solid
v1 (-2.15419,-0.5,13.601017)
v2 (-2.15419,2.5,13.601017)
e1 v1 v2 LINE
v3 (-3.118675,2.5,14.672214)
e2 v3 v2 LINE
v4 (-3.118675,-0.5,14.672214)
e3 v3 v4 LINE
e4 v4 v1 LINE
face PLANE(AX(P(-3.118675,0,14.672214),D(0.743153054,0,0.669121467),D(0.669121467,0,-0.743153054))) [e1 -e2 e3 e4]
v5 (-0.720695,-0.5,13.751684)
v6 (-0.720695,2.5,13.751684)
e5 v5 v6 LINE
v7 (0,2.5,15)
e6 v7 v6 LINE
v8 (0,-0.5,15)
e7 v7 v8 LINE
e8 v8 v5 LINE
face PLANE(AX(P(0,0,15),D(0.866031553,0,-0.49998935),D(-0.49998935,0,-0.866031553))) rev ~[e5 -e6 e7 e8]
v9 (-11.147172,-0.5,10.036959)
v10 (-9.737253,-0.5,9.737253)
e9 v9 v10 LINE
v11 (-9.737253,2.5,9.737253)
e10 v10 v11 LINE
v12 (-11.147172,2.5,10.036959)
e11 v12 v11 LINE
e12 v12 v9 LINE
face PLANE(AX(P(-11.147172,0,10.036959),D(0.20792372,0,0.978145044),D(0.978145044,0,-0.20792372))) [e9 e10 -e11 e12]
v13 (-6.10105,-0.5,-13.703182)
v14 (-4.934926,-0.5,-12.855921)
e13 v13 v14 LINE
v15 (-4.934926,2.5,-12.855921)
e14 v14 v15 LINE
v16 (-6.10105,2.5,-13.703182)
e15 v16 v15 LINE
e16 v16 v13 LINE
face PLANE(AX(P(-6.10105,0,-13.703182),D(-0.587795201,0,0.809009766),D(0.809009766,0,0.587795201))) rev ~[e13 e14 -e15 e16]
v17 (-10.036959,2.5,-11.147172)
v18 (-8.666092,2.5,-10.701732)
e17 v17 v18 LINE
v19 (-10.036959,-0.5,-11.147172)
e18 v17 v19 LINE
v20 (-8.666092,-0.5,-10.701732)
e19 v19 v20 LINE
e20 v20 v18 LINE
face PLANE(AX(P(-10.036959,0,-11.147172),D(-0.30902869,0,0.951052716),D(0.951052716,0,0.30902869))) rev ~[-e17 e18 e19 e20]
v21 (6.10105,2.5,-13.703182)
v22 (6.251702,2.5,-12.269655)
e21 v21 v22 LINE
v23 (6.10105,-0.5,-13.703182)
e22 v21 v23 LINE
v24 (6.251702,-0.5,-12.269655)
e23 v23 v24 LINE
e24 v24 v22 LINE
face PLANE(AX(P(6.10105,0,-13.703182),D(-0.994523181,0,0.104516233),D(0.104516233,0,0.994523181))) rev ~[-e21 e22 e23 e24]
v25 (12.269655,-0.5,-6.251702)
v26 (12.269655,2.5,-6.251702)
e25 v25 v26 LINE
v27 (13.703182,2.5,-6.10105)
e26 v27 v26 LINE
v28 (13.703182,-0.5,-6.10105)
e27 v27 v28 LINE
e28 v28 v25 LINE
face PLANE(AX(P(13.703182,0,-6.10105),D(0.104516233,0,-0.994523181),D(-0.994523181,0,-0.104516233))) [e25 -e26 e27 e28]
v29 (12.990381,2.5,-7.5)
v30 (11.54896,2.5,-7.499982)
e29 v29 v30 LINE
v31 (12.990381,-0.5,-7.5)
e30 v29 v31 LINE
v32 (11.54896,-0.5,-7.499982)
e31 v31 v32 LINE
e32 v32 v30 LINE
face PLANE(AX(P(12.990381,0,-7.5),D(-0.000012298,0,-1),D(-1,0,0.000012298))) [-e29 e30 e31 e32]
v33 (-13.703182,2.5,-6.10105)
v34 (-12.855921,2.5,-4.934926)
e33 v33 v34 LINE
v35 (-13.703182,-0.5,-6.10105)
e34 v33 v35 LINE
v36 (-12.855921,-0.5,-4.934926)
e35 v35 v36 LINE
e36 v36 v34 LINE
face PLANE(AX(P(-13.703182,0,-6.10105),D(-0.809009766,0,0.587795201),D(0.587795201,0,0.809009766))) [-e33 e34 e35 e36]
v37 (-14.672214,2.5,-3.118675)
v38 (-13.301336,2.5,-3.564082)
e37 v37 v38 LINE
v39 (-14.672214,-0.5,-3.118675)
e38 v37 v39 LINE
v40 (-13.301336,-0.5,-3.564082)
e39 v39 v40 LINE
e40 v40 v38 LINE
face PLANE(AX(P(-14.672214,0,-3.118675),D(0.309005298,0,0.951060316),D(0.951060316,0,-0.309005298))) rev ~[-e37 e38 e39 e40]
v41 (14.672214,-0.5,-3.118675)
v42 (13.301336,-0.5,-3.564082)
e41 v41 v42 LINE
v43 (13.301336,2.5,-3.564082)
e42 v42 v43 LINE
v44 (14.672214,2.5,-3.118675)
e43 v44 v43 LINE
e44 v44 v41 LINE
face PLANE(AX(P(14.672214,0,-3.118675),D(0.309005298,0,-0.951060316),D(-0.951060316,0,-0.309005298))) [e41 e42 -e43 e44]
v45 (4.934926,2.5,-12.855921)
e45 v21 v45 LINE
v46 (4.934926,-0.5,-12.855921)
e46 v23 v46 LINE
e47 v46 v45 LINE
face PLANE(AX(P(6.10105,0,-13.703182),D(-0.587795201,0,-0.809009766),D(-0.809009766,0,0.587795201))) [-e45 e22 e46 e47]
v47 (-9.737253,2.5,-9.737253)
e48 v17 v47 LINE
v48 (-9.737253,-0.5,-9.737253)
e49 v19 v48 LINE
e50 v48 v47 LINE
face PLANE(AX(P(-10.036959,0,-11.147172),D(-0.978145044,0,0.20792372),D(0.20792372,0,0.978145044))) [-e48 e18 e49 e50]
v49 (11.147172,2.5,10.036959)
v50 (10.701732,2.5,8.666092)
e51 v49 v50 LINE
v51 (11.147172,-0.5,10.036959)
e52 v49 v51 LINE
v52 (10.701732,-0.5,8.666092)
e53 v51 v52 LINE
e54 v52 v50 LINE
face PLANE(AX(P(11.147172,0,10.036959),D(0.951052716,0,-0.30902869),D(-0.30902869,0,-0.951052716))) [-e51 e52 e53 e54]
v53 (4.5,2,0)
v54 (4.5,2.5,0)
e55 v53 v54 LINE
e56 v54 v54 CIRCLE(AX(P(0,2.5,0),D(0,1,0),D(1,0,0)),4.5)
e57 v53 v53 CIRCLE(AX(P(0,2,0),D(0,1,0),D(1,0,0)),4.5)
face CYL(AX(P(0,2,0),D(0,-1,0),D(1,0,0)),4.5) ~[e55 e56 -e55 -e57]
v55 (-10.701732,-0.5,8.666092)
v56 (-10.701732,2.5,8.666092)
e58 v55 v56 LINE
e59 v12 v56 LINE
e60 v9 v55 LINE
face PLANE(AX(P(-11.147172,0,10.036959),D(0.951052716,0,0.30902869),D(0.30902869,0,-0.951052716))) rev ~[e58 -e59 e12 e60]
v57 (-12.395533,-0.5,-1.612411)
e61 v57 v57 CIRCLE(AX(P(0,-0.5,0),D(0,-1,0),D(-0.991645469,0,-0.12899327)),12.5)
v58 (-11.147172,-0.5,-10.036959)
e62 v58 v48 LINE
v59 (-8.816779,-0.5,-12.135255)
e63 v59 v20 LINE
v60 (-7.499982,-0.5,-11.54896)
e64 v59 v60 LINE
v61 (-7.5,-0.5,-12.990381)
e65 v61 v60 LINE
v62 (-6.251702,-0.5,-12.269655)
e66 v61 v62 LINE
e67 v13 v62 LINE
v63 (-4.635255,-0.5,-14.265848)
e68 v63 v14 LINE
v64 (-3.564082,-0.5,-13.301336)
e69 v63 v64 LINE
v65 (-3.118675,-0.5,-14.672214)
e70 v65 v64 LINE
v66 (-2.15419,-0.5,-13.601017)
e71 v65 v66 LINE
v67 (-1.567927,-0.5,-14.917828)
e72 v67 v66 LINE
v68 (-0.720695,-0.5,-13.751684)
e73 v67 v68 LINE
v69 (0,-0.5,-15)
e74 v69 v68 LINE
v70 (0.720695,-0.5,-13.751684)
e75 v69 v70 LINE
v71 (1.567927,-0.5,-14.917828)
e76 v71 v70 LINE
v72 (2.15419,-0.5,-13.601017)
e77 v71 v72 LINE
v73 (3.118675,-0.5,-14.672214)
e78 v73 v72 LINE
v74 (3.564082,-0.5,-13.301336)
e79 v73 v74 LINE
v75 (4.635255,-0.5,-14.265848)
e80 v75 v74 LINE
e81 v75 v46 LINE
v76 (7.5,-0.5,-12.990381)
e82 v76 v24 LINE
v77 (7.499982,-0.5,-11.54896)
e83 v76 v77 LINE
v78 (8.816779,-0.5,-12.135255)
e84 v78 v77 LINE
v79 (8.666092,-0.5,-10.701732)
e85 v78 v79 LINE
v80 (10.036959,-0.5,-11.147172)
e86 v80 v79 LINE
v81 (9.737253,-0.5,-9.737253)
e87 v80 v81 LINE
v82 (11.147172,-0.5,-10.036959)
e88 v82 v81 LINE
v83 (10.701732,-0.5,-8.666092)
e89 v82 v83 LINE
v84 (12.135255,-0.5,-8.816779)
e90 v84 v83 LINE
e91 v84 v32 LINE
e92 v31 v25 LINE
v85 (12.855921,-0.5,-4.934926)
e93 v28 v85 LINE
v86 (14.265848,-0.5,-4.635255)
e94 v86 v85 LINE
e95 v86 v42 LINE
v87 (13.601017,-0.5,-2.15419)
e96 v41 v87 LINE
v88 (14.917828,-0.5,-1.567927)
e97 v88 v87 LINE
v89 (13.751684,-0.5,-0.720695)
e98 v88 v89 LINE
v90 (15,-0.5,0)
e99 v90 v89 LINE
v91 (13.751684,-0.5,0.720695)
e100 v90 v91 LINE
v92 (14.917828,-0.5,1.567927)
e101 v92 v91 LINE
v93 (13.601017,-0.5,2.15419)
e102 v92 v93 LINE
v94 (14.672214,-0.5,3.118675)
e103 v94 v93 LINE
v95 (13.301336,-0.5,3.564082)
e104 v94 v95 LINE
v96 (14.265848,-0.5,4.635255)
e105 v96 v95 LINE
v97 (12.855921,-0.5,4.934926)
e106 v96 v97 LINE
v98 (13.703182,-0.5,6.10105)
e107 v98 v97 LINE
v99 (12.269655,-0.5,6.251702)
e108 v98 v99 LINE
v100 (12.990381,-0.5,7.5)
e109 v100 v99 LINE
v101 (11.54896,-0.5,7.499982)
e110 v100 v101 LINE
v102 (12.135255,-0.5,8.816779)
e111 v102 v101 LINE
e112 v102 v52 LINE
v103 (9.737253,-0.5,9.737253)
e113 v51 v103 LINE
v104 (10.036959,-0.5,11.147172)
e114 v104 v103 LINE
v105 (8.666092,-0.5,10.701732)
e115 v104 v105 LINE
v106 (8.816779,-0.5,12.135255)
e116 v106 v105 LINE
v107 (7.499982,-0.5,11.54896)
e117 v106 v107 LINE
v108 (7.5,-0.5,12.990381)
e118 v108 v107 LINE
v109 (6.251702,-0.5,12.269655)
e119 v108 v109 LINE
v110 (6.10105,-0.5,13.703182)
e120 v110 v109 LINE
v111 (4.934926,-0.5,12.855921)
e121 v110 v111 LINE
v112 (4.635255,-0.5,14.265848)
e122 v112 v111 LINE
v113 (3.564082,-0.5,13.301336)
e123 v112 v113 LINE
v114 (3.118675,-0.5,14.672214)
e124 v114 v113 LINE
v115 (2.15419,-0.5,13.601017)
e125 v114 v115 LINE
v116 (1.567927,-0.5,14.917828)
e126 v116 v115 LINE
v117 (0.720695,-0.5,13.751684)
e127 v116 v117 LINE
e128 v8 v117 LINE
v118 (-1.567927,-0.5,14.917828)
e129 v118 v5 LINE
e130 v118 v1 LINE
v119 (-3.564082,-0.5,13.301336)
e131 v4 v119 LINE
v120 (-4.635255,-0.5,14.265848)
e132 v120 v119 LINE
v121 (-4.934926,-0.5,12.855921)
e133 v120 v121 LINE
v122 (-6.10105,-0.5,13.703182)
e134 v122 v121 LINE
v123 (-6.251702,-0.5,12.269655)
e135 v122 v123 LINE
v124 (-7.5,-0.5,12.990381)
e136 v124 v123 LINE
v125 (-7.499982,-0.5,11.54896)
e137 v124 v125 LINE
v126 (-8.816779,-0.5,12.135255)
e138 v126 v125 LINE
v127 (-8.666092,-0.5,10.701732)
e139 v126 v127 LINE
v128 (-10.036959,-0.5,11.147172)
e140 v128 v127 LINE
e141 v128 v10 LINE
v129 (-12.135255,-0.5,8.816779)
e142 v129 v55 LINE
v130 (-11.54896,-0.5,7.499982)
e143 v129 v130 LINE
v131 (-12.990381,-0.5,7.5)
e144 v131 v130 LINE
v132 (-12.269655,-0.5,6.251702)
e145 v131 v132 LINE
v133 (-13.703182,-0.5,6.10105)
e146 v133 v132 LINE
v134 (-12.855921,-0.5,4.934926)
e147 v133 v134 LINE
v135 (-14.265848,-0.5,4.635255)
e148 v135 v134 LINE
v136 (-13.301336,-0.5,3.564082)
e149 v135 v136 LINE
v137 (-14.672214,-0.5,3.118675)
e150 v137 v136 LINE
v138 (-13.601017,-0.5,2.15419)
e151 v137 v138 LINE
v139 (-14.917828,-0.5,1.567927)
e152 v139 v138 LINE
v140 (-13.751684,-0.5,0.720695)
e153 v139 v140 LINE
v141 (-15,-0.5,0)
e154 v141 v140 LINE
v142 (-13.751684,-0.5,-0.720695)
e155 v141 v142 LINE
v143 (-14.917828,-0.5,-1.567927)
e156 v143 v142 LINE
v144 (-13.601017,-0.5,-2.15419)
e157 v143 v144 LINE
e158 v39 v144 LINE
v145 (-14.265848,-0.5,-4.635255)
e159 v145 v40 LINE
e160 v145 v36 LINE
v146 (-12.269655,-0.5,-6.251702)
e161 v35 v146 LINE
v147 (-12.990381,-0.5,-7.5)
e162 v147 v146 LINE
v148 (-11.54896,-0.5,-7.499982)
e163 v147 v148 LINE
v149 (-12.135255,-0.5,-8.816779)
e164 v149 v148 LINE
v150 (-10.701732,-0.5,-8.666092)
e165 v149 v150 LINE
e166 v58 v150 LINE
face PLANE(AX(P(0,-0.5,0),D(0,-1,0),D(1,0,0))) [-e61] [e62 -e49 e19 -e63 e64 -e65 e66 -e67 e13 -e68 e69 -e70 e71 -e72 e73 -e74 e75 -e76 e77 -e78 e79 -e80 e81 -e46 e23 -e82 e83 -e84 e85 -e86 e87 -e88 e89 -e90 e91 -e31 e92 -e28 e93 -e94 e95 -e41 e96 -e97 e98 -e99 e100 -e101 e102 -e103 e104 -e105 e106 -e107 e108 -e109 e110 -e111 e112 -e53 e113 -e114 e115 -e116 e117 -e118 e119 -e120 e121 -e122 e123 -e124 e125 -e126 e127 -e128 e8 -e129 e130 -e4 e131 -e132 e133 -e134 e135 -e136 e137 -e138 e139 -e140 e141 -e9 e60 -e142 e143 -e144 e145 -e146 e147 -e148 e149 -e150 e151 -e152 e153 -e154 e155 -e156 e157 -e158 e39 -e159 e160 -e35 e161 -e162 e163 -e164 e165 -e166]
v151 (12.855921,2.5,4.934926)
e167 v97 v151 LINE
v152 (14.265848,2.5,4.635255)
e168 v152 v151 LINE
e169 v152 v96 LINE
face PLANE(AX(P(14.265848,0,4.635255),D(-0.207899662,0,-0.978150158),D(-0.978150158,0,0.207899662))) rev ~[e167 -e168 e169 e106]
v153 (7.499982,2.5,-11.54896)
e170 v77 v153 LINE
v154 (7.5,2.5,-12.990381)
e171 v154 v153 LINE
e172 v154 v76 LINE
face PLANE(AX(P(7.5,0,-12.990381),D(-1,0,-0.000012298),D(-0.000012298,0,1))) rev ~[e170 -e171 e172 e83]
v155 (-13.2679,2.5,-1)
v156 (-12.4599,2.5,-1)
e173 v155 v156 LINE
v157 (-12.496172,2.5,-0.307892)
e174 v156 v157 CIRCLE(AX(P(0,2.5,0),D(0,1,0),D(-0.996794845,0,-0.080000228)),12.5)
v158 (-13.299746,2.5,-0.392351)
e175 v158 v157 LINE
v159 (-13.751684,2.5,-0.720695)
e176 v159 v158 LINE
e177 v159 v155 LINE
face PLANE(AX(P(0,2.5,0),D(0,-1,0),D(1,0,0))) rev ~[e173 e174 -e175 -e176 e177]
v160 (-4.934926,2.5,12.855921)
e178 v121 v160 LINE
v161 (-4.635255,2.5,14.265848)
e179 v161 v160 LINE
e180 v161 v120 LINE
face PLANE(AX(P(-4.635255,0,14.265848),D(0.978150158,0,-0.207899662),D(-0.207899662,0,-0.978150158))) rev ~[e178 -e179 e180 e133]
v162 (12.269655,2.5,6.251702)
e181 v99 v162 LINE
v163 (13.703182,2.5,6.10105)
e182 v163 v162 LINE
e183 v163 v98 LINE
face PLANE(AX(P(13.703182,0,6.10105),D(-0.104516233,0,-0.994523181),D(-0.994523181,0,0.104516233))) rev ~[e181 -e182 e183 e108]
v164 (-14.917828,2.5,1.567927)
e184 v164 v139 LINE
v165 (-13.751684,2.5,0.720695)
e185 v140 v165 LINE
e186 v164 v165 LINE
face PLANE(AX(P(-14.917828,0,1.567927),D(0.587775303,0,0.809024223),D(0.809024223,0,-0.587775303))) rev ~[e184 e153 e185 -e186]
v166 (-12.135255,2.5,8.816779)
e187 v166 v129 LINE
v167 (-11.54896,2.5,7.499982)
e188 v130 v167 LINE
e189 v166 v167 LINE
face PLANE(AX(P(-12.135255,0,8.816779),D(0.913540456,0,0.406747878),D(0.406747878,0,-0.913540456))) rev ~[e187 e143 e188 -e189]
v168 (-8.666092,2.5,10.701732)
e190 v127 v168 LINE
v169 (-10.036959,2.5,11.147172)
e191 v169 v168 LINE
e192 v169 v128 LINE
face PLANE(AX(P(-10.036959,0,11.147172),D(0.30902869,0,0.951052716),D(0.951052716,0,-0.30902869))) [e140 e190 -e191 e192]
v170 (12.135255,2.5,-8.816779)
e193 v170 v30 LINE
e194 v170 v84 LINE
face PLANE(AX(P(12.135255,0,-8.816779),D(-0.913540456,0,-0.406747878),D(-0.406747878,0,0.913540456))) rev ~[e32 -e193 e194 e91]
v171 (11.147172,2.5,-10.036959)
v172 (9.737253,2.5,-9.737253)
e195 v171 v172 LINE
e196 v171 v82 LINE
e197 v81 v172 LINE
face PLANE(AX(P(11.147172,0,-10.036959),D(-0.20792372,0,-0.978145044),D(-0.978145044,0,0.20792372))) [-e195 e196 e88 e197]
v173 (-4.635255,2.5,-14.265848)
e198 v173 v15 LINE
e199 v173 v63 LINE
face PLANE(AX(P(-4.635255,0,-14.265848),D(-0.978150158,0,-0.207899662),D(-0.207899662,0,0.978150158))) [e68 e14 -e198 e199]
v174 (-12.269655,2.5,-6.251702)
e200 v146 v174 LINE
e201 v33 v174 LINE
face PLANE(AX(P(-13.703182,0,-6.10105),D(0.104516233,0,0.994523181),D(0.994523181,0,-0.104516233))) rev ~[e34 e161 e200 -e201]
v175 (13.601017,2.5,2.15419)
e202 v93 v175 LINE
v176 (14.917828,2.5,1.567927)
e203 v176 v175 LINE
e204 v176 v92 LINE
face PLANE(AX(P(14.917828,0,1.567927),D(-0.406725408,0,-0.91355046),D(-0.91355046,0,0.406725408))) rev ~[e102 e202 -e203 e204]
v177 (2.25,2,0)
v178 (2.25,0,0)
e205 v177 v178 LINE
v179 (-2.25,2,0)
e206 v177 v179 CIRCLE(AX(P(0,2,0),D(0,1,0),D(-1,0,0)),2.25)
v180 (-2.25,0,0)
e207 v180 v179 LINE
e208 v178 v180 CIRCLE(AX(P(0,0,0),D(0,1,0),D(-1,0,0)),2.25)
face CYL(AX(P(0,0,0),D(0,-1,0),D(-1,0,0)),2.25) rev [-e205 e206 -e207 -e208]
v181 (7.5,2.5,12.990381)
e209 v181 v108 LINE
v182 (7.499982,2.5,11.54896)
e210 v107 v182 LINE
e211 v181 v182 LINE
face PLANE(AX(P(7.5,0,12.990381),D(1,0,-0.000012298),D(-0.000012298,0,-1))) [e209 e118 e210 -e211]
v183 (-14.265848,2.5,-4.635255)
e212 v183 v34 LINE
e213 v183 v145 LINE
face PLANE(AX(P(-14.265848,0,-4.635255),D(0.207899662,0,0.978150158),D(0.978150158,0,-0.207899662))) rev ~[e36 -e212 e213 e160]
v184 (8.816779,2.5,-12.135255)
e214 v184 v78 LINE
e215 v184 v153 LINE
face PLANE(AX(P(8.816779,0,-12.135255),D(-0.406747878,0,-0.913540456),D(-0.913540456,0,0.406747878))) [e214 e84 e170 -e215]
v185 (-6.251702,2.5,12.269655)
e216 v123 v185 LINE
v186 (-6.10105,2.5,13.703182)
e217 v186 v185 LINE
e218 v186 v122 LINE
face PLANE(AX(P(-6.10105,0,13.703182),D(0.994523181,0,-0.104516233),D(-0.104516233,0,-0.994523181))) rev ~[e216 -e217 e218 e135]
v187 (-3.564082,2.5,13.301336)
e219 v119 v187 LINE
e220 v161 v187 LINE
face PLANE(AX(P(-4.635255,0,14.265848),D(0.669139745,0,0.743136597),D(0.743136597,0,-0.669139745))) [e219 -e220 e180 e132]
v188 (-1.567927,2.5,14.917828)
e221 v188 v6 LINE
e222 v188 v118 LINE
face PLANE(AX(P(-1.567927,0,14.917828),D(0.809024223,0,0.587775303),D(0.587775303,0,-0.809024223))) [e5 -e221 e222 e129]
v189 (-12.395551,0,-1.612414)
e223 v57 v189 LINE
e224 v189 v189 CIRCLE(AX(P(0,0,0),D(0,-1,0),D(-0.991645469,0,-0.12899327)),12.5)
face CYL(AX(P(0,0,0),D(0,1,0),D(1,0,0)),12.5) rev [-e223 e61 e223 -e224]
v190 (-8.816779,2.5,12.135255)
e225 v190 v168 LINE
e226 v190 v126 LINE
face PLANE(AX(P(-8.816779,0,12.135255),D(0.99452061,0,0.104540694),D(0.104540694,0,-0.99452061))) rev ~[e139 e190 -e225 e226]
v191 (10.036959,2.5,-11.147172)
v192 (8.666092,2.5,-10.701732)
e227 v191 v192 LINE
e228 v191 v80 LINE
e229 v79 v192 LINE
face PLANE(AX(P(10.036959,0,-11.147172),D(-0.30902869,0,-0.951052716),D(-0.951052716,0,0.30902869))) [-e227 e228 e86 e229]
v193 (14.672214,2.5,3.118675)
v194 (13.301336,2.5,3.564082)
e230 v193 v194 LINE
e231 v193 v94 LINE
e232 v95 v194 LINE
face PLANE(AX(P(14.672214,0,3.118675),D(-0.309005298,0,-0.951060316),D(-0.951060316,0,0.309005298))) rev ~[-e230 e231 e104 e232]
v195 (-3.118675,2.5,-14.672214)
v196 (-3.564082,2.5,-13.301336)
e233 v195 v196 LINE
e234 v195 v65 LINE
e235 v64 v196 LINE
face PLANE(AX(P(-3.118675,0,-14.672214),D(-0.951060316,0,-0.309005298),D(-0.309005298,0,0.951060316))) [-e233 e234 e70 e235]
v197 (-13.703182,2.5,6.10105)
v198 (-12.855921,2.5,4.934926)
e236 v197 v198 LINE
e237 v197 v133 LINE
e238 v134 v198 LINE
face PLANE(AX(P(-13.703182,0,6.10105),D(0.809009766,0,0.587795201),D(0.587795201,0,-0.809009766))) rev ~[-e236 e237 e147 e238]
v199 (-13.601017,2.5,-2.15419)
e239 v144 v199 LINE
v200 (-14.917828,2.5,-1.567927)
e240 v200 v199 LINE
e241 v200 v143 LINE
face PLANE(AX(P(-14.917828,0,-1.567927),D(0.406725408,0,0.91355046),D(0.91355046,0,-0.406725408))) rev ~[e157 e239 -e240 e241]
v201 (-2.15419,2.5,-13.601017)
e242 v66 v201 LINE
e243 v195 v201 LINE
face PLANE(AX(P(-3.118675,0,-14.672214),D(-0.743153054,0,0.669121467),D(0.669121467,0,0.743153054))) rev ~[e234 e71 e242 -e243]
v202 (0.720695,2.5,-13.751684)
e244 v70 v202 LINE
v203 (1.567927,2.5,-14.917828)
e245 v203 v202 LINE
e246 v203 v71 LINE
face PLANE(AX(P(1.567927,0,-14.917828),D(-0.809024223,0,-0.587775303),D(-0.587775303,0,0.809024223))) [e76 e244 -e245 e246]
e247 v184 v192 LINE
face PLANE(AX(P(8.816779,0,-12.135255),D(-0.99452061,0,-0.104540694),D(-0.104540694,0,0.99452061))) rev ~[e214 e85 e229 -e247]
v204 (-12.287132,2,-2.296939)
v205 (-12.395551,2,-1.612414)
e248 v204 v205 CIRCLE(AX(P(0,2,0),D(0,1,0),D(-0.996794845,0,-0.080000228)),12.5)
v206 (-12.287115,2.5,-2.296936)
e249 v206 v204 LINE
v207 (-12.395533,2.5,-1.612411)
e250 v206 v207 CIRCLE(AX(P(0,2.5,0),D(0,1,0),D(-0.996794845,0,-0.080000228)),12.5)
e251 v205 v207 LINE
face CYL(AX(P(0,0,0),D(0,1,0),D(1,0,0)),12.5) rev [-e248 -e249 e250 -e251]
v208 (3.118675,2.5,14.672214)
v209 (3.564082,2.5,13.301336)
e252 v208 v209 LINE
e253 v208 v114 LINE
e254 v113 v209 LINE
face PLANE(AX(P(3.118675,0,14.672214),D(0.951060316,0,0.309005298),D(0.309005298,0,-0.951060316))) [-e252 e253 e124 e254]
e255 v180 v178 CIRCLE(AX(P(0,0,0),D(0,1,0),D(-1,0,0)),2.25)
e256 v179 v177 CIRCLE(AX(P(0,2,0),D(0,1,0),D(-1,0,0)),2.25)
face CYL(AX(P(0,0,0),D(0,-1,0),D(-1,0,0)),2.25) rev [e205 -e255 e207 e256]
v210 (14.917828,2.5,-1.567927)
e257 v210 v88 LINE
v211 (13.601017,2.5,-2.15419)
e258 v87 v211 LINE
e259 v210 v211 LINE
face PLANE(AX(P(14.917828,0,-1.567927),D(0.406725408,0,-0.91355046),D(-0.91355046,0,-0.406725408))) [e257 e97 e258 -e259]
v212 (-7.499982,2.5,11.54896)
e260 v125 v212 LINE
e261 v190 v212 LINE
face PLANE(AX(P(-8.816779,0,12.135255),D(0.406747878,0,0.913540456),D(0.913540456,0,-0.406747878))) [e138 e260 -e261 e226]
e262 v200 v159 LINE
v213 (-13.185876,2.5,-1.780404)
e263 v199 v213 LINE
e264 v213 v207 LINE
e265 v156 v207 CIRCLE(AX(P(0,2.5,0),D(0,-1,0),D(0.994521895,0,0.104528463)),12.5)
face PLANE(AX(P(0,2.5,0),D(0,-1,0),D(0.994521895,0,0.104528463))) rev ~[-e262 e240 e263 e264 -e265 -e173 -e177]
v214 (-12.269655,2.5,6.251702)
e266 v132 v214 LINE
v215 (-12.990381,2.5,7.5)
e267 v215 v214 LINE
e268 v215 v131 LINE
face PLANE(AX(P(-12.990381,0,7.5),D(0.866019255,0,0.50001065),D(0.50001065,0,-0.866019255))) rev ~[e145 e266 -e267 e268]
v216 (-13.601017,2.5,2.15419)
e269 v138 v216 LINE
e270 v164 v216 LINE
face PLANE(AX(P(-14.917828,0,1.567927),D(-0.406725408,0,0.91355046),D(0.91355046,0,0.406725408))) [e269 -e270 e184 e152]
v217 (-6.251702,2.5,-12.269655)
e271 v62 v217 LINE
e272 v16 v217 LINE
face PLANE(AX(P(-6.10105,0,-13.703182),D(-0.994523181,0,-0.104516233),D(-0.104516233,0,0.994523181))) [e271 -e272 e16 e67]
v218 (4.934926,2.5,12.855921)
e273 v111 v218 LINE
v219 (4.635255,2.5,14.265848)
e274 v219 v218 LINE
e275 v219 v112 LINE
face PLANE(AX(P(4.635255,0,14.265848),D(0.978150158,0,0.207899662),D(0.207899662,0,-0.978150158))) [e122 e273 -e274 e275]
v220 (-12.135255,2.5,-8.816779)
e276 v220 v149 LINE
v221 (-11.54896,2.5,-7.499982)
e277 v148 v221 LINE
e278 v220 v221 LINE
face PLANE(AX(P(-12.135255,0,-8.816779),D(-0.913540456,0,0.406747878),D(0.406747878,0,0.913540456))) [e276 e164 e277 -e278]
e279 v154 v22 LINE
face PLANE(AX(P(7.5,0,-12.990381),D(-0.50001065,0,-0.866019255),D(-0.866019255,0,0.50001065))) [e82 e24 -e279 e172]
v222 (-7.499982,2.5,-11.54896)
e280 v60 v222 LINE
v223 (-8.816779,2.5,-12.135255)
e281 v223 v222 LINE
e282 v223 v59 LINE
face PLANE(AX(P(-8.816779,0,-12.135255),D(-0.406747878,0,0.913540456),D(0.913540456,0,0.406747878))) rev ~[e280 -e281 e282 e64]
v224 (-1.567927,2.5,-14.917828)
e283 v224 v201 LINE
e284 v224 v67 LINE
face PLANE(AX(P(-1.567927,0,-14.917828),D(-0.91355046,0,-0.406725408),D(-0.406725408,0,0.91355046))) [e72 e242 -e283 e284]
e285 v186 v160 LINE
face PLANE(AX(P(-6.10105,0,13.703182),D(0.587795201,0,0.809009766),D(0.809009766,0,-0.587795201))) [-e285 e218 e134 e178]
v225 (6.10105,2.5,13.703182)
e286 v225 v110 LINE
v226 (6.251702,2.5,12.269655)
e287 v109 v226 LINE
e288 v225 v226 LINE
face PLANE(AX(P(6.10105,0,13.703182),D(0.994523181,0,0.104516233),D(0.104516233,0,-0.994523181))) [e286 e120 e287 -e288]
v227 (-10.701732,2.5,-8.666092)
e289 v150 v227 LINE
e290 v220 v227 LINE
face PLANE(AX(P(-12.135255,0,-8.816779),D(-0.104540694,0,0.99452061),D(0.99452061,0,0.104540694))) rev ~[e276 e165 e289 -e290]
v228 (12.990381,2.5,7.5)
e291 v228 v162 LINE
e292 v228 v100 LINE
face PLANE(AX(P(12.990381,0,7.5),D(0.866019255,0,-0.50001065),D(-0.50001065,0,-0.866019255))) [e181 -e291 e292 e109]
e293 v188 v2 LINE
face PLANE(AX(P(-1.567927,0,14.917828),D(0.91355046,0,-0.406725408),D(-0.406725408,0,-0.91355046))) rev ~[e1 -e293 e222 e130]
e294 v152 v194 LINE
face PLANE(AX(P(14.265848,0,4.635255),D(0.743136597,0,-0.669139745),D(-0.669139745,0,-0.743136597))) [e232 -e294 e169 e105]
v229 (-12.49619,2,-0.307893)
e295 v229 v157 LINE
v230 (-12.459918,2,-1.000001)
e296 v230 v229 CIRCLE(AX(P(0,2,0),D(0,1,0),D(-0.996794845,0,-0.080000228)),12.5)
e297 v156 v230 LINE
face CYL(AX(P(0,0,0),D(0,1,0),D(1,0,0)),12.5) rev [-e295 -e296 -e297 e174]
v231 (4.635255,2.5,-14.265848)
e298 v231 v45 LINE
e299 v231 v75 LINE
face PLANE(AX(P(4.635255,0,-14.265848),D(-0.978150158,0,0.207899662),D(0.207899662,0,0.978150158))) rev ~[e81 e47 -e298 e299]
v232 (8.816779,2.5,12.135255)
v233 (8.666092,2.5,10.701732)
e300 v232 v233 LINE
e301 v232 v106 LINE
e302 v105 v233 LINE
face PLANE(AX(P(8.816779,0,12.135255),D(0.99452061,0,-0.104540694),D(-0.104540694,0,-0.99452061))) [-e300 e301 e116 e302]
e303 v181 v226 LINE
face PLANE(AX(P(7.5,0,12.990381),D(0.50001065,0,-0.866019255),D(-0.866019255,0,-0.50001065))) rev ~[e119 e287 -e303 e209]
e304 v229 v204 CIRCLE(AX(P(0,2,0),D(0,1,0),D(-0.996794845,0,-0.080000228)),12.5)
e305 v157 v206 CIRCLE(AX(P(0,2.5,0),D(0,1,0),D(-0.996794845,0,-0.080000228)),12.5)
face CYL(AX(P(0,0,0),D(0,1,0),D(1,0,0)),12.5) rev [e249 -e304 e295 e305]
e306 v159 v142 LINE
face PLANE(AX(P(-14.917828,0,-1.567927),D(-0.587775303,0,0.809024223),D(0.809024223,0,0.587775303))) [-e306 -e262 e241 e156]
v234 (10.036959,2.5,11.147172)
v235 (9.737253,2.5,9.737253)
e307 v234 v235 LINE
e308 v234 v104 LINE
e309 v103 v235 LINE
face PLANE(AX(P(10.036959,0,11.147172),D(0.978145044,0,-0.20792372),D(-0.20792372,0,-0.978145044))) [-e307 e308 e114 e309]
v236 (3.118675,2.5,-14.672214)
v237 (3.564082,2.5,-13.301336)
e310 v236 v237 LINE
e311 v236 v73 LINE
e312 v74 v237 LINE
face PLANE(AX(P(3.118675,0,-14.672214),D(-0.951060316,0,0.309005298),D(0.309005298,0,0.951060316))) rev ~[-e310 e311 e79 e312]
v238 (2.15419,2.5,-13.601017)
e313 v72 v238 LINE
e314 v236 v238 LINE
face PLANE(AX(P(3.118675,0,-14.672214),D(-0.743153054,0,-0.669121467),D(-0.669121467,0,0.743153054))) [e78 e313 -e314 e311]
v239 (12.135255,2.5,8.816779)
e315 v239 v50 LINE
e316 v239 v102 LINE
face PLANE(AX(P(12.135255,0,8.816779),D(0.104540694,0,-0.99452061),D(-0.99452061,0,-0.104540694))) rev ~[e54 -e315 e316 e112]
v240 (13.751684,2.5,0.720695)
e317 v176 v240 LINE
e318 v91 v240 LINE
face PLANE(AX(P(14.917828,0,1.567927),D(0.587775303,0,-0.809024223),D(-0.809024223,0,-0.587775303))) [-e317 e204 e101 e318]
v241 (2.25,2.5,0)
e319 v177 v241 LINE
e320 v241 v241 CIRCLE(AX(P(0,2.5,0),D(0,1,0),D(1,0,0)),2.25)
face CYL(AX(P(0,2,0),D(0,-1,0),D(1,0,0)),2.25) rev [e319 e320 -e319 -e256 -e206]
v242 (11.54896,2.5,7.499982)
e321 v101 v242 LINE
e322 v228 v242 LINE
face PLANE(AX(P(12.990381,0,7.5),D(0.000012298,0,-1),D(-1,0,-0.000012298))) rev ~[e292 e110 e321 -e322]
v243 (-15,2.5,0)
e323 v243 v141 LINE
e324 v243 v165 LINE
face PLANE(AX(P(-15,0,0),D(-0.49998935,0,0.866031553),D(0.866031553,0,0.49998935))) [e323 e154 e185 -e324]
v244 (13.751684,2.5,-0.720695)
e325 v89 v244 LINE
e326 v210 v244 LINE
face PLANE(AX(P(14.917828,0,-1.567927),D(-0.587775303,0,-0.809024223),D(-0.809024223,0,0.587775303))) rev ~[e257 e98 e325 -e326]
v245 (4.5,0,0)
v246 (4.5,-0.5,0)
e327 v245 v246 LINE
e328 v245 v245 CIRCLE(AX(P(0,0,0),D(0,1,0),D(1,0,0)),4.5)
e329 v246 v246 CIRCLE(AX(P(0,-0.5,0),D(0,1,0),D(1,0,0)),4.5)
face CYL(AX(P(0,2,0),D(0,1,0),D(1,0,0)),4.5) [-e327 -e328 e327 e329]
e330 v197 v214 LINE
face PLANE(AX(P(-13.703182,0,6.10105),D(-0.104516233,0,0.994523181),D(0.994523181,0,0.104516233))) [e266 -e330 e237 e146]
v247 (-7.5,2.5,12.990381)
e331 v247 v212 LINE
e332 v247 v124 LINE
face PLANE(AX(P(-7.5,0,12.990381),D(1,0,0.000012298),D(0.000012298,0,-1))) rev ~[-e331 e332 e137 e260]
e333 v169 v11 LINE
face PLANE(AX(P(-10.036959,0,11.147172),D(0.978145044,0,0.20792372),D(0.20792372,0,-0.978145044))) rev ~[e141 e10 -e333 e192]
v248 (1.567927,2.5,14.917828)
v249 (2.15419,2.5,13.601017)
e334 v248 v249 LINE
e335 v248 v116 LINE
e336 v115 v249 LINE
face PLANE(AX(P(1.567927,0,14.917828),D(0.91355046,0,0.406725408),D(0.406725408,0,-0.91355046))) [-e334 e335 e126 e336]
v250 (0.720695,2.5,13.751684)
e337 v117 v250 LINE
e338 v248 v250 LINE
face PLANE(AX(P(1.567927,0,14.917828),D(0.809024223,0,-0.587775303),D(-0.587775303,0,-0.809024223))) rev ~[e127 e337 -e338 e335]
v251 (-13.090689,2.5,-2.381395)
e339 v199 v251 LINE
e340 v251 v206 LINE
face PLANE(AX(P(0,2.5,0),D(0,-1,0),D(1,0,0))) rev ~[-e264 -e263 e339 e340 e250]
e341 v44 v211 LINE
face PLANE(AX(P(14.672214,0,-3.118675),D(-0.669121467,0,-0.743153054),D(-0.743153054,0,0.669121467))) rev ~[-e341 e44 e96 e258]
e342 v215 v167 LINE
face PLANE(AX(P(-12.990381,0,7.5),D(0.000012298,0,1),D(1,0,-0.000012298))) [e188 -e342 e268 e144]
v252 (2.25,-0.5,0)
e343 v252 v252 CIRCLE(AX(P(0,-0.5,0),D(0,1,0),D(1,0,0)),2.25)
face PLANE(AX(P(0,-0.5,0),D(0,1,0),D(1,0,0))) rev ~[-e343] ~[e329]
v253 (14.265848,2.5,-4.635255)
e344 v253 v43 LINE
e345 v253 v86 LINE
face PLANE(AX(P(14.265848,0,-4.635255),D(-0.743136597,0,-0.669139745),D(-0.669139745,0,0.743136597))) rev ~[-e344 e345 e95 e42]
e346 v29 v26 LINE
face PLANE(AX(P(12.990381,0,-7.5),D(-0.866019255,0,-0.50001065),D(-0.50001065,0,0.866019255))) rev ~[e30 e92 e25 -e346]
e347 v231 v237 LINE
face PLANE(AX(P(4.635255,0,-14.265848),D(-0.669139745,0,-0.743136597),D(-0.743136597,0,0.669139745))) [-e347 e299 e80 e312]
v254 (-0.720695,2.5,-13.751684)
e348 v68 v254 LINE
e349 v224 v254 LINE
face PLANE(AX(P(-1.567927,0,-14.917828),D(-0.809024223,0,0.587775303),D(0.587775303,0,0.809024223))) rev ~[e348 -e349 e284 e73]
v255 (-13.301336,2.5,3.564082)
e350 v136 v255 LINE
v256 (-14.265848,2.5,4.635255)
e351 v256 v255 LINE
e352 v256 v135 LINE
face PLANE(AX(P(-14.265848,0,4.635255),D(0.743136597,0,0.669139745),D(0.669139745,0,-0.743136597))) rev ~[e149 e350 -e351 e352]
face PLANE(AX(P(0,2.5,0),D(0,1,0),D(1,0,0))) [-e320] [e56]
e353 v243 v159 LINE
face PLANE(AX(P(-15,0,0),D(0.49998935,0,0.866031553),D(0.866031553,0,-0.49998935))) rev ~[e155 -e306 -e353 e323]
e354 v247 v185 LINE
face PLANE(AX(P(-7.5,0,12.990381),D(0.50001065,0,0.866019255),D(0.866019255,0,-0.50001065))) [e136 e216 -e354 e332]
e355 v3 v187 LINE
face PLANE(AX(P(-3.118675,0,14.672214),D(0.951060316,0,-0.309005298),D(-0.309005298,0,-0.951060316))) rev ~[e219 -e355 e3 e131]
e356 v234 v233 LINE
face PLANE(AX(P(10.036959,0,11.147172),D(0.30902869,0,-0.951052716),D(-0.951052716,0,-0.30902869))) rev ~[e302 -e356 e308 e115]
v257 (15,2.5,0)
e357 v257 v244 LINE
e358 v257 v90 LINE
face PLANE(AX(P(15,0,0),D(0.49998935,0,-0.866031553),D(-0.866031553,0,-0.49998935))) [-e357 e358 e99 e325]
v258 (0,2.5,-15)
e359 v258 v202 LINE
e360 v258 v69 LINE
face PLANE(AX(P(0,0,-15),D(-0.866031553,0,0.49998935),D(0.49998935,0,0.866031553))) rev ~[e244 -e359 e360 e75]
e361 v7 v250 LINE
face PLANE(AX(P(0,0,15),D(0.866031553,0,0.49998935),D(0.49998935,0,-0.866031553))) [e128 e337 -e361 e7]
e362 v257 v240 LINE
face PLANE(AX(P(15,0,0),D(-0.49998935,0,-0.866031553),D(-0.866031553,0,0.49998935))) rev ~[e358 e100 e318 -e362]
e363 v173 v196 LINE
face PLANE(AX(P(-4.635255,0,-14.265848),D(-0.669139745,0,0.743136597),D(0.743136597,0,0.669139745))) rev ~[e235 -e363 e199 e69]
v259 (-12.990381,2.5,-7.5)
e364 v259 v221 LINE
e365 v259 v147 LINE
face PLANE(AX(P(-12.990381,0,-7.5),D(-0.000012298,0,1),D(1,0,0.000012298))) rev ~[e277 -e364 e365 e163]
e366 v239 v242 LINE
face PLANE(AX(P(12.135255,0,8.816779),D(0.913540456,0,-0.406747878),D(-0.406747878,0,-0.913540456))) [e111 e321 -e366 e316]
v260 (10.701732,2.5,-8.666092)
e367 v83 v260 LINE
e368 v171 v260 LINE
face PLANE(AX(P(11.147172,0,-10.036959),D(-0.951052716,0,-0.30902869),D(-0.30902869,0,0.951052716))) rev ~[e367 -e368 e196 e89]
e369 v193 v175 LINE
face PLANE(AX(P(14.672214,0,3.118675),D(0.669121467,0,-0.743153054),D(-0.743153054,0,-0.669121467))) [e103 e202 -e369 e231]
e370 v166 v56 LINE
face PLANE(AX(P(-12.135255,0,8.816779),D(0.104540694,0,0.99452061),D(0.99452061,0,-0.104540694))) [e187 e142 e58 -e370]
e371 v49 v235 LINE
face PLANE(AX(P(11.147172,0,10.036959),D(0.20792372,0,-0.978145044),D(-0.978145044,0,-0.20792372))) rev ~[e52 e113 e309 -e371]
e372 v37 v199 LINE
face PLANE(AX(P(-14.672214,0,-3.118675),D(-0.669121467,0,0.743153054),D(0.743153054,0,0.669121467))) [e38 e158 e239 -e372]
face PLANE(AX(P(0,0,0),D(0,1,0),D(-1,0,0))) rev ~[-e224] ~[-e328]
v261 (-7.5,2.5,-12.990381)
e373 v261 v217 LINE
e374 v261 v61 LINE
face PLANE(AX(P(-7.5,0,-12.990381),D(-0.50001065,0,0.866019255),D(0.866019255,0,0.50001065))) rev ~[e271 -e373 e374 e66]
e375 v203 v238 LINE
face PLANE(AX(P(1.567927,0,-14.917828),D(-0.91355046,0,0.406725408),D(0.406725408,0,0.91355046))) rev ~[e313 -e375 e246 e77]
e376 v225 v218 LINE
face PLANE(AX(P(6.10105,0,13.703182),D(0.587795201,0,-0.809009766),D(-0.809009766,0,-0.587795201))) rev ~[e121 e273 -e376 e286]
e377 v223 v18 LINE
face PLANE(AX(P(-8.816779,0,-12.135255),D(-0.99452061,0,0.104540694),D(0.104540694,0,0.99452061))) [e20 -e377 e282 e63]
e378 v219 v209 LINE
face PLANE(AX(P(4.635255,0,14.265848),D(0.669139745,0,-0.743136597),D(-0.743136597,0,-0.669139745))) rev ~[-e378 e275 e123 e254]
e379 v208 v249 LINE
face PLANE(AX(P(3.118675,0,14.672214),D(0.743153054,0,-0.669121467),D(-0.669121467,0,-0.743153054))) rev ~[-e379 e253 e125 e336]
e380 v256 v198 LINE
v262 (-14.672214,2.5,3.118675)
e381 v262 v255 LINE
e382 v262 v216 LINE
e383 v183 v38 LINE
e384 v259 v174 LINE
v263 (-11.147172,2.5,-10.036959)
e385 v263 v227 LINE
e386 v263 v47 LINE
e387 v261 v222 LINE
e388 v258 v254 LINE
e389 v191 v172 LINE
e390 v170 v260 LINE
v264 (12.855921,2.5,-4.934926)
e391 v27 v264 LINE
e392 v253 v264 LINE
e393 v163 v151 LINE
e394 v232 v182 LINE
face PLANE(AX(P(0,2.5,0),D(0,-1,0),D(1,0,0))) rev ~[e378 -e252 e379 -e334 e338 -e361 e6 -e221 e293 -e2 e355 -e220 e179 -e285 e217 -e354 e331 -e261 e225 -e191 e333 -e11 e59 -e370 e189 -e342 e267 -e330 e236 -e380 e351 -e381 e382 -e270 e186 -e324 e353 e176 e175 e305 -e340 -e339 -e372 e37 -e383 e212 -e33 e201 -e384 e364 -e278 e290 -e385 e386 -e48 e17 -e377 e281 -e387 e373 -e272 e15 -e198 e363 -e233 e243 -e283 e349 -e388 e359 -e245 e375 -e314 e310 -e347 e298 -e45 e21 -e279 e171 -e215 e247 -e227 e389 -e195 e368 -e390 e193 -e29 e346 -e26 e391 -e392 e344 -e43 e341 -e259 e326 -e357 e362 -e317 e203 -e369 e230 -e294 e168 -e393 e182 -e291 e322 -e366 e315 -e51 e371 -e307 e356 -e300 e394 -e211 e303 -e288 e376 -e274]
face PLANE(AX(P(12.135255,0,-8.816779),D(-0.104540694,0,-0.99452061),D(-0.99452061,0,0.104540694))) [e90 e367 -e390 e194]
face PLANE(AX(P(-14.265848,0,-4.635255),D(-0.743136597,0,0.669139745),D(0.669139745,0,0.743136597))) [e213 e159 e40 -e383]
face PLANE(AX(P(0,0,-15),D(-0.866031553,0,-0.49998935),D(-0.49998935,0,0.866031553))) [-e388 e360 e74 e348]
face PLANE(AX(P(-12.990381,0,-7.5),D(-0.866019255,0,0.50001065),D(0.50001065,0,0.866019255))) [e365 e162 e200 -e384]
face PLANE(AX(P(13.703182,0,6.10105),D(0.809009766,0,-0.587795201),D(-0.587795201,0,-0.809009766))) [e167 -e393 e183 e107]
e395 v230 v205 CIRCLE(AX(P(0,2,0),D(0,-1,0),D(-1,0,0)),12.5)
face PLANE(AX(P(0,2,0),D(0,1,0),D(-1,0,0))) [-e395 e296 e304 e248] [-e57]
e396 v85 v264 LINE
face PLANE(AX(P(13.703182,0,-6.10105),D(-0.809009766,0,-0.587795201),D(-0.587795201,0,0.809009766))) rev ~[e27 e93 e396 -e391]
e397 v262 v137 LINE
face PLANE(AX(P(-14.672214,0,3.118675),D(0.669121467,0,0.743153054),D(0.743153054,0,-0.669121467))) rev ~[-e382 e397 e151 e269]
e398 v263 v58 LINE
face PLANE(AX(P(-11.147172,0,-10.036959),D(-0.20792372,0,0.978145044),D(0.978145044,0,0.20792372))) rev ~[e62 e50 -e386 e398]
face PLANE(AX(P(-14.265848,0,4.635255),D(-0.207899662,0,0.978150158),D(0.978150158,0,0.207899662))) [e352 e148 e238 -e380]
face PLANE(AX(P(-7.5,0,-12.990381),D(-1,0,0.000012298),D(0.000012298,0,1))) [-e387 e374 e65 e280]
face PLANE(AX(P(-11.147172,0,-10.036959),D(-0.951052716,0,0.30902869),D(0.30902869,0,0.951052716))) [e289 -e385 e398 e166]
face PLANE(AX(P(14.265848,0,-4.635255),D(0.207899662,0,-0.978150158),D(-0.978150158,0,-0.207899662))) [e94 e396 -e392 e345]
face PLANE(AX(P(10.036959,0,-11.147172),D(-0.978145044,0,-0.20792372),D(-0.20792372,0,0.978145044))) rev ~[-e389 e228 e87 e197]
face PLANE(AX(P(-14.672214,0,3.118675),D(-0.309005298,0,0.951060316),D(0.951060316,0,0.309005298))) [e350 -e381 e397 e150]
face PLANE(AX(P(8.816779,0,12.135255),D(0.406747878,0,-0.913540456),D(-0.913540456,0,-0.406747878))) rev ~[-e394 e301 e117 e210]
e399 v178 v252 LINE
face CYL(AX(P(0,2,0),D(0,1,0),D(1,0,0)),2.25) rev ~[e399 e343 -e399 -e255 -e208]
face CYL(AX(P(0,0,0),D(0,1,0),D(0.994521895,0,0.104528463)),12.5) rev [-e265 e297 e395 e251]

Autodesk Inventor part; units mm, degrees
ref_plane "YZ Plane" through (0, 0, 0) normal (1, 0, 0) x (0, 1, 0)
ref_plane "XZ Plane" through (0, 0, 0) normal (0, 1, 0) x (-1, 0, 0)
ref_plane "XY Plane" through (0, 0, 0) normal (0, 0, 1) x (1, 0, 0)
sketch "Sketch1" plane through (0, 0, 0) normal (0, 1, 0) x (-1, 0, 0)
  circle A0 centre (0, 0) radius 25
  circle A1 centre (0, 0) radius 22.5
  circle A2 centre (0, 0) radius 2.25
  line L0 (10, 10) -> (-10, 10)
  line L1 (-10, 10) -> (-10, -10)
  line L2 (-10, -10) -> (10, -10)
  line L3 (10, -10) -> (10, 10)
  line L4 (10, 10) -> (-10, -10) construction
  line L5 (-10, 10) -> (10, -10) construction
  circle A3 centre (10, -10) radius 2.5
  circle A4 centre (-10, -10) radius 2.5
  circle A5 centre (-10, 10) radius 2.5
  circle A6 centre (10, 10) radius 2.5
  circle A7 centre (0, 0) radius 12.5
  point P0 (7.5, 10)
  point P1 (-7.5, 10)
  point P2 (-10, 7.5)
  point P3 (-10, -7.5)
  point P4 (-7.5, -10)
  point P5 (7.5, -10)
  point P6 (10, -7.5)
  point P7 (10, 7.5)
  dimension "d0" = 50
  dimension "d1" = 45
  dimension "d2" = 4.5
  dimension "d3" = 20
  dimension "d4" = 20
  dimension "d5" = 5
  dimension "d6" = 5
  dimension "d7" = 5
  dimension "d8" = 5
  dimension "d29" = 25
extrude "Extrusion1" add sketch "Sketch1" along normal blind 2 contours A7 L0 | L0 A6 L3 A3 L2 A4 L1 A5 | A5 A7 | A7 A6 | L1 A7 | A7 L3 | A4 A7 | A7 A3 | L2 A7
sketch "Sketch3" plane through (0, 2, 0) normal (0, 1, 0) x (1, 0, 0)
  circle A0 centre (0, 0) radius 4.5
  circle A1 centre (0, 0) radius 2.25 projected
  circle A2 centre (0, 0) radius 2.25
  dimension "d22" = 9
extrude "Extrusion3" add sketch "Sketch3" along normal blind 0.5 and the other way blind 2.5
sketch "Sketch4" plane through (0, 0, 0) normal (0, -1, 0) x (1, 0, 0)
  circle A0 centre (0, 0) radius 15
  line L0 (-15, 0) -> (-13.2679, 1)
  line L1 (-15, 0) -> (-13, 0) construction
  line L2 (-13.2679, 1) -> (-12.4599, 1)
  circle A1 centre (0, 0) radius 12.5 projected
  line L3 (-15, 0) -> (-13.2679, -1)
  line L4 (-15, 0) -> (-13, 0) construction
  line L5 (-13.2679, -1) -> (-12.4599, -1)
  dimension "d31" = 30
  dimension "d32" = 2
  dimension "d33" = 30
  dimension "d34" = 2
  dimension "d35" = 30
extrude "Extrusion4" add sketch "Sketch4" along normal blind 0.5 and the other way blind 2.5 contours L0 L2 A1 L5 L3
pattern_circular "Circular Pattern2" count 60 over 360 about axis through (0, 0, 0) along (0, 1, 0) of "Extrusion4"
equation "\"BendRadius\" = Thickness"
equation "\"BendReliefWidth\" = Thickness"
equation "\"BendReliefDepth\" = 0.5 * Thickness"
equation "\"CornerReliefSize\" = 4 * Thickness"
equation "\"MinimumRemnant\" = 2 * Thickness"
equation "\"TransitionRadius\" = BendRadius"
equation "\"JacobiRadiusSize\" = BendRadius"
equation "\"GapSize\" = Thickness"
equation "\"Thickness\" = 0.5"
